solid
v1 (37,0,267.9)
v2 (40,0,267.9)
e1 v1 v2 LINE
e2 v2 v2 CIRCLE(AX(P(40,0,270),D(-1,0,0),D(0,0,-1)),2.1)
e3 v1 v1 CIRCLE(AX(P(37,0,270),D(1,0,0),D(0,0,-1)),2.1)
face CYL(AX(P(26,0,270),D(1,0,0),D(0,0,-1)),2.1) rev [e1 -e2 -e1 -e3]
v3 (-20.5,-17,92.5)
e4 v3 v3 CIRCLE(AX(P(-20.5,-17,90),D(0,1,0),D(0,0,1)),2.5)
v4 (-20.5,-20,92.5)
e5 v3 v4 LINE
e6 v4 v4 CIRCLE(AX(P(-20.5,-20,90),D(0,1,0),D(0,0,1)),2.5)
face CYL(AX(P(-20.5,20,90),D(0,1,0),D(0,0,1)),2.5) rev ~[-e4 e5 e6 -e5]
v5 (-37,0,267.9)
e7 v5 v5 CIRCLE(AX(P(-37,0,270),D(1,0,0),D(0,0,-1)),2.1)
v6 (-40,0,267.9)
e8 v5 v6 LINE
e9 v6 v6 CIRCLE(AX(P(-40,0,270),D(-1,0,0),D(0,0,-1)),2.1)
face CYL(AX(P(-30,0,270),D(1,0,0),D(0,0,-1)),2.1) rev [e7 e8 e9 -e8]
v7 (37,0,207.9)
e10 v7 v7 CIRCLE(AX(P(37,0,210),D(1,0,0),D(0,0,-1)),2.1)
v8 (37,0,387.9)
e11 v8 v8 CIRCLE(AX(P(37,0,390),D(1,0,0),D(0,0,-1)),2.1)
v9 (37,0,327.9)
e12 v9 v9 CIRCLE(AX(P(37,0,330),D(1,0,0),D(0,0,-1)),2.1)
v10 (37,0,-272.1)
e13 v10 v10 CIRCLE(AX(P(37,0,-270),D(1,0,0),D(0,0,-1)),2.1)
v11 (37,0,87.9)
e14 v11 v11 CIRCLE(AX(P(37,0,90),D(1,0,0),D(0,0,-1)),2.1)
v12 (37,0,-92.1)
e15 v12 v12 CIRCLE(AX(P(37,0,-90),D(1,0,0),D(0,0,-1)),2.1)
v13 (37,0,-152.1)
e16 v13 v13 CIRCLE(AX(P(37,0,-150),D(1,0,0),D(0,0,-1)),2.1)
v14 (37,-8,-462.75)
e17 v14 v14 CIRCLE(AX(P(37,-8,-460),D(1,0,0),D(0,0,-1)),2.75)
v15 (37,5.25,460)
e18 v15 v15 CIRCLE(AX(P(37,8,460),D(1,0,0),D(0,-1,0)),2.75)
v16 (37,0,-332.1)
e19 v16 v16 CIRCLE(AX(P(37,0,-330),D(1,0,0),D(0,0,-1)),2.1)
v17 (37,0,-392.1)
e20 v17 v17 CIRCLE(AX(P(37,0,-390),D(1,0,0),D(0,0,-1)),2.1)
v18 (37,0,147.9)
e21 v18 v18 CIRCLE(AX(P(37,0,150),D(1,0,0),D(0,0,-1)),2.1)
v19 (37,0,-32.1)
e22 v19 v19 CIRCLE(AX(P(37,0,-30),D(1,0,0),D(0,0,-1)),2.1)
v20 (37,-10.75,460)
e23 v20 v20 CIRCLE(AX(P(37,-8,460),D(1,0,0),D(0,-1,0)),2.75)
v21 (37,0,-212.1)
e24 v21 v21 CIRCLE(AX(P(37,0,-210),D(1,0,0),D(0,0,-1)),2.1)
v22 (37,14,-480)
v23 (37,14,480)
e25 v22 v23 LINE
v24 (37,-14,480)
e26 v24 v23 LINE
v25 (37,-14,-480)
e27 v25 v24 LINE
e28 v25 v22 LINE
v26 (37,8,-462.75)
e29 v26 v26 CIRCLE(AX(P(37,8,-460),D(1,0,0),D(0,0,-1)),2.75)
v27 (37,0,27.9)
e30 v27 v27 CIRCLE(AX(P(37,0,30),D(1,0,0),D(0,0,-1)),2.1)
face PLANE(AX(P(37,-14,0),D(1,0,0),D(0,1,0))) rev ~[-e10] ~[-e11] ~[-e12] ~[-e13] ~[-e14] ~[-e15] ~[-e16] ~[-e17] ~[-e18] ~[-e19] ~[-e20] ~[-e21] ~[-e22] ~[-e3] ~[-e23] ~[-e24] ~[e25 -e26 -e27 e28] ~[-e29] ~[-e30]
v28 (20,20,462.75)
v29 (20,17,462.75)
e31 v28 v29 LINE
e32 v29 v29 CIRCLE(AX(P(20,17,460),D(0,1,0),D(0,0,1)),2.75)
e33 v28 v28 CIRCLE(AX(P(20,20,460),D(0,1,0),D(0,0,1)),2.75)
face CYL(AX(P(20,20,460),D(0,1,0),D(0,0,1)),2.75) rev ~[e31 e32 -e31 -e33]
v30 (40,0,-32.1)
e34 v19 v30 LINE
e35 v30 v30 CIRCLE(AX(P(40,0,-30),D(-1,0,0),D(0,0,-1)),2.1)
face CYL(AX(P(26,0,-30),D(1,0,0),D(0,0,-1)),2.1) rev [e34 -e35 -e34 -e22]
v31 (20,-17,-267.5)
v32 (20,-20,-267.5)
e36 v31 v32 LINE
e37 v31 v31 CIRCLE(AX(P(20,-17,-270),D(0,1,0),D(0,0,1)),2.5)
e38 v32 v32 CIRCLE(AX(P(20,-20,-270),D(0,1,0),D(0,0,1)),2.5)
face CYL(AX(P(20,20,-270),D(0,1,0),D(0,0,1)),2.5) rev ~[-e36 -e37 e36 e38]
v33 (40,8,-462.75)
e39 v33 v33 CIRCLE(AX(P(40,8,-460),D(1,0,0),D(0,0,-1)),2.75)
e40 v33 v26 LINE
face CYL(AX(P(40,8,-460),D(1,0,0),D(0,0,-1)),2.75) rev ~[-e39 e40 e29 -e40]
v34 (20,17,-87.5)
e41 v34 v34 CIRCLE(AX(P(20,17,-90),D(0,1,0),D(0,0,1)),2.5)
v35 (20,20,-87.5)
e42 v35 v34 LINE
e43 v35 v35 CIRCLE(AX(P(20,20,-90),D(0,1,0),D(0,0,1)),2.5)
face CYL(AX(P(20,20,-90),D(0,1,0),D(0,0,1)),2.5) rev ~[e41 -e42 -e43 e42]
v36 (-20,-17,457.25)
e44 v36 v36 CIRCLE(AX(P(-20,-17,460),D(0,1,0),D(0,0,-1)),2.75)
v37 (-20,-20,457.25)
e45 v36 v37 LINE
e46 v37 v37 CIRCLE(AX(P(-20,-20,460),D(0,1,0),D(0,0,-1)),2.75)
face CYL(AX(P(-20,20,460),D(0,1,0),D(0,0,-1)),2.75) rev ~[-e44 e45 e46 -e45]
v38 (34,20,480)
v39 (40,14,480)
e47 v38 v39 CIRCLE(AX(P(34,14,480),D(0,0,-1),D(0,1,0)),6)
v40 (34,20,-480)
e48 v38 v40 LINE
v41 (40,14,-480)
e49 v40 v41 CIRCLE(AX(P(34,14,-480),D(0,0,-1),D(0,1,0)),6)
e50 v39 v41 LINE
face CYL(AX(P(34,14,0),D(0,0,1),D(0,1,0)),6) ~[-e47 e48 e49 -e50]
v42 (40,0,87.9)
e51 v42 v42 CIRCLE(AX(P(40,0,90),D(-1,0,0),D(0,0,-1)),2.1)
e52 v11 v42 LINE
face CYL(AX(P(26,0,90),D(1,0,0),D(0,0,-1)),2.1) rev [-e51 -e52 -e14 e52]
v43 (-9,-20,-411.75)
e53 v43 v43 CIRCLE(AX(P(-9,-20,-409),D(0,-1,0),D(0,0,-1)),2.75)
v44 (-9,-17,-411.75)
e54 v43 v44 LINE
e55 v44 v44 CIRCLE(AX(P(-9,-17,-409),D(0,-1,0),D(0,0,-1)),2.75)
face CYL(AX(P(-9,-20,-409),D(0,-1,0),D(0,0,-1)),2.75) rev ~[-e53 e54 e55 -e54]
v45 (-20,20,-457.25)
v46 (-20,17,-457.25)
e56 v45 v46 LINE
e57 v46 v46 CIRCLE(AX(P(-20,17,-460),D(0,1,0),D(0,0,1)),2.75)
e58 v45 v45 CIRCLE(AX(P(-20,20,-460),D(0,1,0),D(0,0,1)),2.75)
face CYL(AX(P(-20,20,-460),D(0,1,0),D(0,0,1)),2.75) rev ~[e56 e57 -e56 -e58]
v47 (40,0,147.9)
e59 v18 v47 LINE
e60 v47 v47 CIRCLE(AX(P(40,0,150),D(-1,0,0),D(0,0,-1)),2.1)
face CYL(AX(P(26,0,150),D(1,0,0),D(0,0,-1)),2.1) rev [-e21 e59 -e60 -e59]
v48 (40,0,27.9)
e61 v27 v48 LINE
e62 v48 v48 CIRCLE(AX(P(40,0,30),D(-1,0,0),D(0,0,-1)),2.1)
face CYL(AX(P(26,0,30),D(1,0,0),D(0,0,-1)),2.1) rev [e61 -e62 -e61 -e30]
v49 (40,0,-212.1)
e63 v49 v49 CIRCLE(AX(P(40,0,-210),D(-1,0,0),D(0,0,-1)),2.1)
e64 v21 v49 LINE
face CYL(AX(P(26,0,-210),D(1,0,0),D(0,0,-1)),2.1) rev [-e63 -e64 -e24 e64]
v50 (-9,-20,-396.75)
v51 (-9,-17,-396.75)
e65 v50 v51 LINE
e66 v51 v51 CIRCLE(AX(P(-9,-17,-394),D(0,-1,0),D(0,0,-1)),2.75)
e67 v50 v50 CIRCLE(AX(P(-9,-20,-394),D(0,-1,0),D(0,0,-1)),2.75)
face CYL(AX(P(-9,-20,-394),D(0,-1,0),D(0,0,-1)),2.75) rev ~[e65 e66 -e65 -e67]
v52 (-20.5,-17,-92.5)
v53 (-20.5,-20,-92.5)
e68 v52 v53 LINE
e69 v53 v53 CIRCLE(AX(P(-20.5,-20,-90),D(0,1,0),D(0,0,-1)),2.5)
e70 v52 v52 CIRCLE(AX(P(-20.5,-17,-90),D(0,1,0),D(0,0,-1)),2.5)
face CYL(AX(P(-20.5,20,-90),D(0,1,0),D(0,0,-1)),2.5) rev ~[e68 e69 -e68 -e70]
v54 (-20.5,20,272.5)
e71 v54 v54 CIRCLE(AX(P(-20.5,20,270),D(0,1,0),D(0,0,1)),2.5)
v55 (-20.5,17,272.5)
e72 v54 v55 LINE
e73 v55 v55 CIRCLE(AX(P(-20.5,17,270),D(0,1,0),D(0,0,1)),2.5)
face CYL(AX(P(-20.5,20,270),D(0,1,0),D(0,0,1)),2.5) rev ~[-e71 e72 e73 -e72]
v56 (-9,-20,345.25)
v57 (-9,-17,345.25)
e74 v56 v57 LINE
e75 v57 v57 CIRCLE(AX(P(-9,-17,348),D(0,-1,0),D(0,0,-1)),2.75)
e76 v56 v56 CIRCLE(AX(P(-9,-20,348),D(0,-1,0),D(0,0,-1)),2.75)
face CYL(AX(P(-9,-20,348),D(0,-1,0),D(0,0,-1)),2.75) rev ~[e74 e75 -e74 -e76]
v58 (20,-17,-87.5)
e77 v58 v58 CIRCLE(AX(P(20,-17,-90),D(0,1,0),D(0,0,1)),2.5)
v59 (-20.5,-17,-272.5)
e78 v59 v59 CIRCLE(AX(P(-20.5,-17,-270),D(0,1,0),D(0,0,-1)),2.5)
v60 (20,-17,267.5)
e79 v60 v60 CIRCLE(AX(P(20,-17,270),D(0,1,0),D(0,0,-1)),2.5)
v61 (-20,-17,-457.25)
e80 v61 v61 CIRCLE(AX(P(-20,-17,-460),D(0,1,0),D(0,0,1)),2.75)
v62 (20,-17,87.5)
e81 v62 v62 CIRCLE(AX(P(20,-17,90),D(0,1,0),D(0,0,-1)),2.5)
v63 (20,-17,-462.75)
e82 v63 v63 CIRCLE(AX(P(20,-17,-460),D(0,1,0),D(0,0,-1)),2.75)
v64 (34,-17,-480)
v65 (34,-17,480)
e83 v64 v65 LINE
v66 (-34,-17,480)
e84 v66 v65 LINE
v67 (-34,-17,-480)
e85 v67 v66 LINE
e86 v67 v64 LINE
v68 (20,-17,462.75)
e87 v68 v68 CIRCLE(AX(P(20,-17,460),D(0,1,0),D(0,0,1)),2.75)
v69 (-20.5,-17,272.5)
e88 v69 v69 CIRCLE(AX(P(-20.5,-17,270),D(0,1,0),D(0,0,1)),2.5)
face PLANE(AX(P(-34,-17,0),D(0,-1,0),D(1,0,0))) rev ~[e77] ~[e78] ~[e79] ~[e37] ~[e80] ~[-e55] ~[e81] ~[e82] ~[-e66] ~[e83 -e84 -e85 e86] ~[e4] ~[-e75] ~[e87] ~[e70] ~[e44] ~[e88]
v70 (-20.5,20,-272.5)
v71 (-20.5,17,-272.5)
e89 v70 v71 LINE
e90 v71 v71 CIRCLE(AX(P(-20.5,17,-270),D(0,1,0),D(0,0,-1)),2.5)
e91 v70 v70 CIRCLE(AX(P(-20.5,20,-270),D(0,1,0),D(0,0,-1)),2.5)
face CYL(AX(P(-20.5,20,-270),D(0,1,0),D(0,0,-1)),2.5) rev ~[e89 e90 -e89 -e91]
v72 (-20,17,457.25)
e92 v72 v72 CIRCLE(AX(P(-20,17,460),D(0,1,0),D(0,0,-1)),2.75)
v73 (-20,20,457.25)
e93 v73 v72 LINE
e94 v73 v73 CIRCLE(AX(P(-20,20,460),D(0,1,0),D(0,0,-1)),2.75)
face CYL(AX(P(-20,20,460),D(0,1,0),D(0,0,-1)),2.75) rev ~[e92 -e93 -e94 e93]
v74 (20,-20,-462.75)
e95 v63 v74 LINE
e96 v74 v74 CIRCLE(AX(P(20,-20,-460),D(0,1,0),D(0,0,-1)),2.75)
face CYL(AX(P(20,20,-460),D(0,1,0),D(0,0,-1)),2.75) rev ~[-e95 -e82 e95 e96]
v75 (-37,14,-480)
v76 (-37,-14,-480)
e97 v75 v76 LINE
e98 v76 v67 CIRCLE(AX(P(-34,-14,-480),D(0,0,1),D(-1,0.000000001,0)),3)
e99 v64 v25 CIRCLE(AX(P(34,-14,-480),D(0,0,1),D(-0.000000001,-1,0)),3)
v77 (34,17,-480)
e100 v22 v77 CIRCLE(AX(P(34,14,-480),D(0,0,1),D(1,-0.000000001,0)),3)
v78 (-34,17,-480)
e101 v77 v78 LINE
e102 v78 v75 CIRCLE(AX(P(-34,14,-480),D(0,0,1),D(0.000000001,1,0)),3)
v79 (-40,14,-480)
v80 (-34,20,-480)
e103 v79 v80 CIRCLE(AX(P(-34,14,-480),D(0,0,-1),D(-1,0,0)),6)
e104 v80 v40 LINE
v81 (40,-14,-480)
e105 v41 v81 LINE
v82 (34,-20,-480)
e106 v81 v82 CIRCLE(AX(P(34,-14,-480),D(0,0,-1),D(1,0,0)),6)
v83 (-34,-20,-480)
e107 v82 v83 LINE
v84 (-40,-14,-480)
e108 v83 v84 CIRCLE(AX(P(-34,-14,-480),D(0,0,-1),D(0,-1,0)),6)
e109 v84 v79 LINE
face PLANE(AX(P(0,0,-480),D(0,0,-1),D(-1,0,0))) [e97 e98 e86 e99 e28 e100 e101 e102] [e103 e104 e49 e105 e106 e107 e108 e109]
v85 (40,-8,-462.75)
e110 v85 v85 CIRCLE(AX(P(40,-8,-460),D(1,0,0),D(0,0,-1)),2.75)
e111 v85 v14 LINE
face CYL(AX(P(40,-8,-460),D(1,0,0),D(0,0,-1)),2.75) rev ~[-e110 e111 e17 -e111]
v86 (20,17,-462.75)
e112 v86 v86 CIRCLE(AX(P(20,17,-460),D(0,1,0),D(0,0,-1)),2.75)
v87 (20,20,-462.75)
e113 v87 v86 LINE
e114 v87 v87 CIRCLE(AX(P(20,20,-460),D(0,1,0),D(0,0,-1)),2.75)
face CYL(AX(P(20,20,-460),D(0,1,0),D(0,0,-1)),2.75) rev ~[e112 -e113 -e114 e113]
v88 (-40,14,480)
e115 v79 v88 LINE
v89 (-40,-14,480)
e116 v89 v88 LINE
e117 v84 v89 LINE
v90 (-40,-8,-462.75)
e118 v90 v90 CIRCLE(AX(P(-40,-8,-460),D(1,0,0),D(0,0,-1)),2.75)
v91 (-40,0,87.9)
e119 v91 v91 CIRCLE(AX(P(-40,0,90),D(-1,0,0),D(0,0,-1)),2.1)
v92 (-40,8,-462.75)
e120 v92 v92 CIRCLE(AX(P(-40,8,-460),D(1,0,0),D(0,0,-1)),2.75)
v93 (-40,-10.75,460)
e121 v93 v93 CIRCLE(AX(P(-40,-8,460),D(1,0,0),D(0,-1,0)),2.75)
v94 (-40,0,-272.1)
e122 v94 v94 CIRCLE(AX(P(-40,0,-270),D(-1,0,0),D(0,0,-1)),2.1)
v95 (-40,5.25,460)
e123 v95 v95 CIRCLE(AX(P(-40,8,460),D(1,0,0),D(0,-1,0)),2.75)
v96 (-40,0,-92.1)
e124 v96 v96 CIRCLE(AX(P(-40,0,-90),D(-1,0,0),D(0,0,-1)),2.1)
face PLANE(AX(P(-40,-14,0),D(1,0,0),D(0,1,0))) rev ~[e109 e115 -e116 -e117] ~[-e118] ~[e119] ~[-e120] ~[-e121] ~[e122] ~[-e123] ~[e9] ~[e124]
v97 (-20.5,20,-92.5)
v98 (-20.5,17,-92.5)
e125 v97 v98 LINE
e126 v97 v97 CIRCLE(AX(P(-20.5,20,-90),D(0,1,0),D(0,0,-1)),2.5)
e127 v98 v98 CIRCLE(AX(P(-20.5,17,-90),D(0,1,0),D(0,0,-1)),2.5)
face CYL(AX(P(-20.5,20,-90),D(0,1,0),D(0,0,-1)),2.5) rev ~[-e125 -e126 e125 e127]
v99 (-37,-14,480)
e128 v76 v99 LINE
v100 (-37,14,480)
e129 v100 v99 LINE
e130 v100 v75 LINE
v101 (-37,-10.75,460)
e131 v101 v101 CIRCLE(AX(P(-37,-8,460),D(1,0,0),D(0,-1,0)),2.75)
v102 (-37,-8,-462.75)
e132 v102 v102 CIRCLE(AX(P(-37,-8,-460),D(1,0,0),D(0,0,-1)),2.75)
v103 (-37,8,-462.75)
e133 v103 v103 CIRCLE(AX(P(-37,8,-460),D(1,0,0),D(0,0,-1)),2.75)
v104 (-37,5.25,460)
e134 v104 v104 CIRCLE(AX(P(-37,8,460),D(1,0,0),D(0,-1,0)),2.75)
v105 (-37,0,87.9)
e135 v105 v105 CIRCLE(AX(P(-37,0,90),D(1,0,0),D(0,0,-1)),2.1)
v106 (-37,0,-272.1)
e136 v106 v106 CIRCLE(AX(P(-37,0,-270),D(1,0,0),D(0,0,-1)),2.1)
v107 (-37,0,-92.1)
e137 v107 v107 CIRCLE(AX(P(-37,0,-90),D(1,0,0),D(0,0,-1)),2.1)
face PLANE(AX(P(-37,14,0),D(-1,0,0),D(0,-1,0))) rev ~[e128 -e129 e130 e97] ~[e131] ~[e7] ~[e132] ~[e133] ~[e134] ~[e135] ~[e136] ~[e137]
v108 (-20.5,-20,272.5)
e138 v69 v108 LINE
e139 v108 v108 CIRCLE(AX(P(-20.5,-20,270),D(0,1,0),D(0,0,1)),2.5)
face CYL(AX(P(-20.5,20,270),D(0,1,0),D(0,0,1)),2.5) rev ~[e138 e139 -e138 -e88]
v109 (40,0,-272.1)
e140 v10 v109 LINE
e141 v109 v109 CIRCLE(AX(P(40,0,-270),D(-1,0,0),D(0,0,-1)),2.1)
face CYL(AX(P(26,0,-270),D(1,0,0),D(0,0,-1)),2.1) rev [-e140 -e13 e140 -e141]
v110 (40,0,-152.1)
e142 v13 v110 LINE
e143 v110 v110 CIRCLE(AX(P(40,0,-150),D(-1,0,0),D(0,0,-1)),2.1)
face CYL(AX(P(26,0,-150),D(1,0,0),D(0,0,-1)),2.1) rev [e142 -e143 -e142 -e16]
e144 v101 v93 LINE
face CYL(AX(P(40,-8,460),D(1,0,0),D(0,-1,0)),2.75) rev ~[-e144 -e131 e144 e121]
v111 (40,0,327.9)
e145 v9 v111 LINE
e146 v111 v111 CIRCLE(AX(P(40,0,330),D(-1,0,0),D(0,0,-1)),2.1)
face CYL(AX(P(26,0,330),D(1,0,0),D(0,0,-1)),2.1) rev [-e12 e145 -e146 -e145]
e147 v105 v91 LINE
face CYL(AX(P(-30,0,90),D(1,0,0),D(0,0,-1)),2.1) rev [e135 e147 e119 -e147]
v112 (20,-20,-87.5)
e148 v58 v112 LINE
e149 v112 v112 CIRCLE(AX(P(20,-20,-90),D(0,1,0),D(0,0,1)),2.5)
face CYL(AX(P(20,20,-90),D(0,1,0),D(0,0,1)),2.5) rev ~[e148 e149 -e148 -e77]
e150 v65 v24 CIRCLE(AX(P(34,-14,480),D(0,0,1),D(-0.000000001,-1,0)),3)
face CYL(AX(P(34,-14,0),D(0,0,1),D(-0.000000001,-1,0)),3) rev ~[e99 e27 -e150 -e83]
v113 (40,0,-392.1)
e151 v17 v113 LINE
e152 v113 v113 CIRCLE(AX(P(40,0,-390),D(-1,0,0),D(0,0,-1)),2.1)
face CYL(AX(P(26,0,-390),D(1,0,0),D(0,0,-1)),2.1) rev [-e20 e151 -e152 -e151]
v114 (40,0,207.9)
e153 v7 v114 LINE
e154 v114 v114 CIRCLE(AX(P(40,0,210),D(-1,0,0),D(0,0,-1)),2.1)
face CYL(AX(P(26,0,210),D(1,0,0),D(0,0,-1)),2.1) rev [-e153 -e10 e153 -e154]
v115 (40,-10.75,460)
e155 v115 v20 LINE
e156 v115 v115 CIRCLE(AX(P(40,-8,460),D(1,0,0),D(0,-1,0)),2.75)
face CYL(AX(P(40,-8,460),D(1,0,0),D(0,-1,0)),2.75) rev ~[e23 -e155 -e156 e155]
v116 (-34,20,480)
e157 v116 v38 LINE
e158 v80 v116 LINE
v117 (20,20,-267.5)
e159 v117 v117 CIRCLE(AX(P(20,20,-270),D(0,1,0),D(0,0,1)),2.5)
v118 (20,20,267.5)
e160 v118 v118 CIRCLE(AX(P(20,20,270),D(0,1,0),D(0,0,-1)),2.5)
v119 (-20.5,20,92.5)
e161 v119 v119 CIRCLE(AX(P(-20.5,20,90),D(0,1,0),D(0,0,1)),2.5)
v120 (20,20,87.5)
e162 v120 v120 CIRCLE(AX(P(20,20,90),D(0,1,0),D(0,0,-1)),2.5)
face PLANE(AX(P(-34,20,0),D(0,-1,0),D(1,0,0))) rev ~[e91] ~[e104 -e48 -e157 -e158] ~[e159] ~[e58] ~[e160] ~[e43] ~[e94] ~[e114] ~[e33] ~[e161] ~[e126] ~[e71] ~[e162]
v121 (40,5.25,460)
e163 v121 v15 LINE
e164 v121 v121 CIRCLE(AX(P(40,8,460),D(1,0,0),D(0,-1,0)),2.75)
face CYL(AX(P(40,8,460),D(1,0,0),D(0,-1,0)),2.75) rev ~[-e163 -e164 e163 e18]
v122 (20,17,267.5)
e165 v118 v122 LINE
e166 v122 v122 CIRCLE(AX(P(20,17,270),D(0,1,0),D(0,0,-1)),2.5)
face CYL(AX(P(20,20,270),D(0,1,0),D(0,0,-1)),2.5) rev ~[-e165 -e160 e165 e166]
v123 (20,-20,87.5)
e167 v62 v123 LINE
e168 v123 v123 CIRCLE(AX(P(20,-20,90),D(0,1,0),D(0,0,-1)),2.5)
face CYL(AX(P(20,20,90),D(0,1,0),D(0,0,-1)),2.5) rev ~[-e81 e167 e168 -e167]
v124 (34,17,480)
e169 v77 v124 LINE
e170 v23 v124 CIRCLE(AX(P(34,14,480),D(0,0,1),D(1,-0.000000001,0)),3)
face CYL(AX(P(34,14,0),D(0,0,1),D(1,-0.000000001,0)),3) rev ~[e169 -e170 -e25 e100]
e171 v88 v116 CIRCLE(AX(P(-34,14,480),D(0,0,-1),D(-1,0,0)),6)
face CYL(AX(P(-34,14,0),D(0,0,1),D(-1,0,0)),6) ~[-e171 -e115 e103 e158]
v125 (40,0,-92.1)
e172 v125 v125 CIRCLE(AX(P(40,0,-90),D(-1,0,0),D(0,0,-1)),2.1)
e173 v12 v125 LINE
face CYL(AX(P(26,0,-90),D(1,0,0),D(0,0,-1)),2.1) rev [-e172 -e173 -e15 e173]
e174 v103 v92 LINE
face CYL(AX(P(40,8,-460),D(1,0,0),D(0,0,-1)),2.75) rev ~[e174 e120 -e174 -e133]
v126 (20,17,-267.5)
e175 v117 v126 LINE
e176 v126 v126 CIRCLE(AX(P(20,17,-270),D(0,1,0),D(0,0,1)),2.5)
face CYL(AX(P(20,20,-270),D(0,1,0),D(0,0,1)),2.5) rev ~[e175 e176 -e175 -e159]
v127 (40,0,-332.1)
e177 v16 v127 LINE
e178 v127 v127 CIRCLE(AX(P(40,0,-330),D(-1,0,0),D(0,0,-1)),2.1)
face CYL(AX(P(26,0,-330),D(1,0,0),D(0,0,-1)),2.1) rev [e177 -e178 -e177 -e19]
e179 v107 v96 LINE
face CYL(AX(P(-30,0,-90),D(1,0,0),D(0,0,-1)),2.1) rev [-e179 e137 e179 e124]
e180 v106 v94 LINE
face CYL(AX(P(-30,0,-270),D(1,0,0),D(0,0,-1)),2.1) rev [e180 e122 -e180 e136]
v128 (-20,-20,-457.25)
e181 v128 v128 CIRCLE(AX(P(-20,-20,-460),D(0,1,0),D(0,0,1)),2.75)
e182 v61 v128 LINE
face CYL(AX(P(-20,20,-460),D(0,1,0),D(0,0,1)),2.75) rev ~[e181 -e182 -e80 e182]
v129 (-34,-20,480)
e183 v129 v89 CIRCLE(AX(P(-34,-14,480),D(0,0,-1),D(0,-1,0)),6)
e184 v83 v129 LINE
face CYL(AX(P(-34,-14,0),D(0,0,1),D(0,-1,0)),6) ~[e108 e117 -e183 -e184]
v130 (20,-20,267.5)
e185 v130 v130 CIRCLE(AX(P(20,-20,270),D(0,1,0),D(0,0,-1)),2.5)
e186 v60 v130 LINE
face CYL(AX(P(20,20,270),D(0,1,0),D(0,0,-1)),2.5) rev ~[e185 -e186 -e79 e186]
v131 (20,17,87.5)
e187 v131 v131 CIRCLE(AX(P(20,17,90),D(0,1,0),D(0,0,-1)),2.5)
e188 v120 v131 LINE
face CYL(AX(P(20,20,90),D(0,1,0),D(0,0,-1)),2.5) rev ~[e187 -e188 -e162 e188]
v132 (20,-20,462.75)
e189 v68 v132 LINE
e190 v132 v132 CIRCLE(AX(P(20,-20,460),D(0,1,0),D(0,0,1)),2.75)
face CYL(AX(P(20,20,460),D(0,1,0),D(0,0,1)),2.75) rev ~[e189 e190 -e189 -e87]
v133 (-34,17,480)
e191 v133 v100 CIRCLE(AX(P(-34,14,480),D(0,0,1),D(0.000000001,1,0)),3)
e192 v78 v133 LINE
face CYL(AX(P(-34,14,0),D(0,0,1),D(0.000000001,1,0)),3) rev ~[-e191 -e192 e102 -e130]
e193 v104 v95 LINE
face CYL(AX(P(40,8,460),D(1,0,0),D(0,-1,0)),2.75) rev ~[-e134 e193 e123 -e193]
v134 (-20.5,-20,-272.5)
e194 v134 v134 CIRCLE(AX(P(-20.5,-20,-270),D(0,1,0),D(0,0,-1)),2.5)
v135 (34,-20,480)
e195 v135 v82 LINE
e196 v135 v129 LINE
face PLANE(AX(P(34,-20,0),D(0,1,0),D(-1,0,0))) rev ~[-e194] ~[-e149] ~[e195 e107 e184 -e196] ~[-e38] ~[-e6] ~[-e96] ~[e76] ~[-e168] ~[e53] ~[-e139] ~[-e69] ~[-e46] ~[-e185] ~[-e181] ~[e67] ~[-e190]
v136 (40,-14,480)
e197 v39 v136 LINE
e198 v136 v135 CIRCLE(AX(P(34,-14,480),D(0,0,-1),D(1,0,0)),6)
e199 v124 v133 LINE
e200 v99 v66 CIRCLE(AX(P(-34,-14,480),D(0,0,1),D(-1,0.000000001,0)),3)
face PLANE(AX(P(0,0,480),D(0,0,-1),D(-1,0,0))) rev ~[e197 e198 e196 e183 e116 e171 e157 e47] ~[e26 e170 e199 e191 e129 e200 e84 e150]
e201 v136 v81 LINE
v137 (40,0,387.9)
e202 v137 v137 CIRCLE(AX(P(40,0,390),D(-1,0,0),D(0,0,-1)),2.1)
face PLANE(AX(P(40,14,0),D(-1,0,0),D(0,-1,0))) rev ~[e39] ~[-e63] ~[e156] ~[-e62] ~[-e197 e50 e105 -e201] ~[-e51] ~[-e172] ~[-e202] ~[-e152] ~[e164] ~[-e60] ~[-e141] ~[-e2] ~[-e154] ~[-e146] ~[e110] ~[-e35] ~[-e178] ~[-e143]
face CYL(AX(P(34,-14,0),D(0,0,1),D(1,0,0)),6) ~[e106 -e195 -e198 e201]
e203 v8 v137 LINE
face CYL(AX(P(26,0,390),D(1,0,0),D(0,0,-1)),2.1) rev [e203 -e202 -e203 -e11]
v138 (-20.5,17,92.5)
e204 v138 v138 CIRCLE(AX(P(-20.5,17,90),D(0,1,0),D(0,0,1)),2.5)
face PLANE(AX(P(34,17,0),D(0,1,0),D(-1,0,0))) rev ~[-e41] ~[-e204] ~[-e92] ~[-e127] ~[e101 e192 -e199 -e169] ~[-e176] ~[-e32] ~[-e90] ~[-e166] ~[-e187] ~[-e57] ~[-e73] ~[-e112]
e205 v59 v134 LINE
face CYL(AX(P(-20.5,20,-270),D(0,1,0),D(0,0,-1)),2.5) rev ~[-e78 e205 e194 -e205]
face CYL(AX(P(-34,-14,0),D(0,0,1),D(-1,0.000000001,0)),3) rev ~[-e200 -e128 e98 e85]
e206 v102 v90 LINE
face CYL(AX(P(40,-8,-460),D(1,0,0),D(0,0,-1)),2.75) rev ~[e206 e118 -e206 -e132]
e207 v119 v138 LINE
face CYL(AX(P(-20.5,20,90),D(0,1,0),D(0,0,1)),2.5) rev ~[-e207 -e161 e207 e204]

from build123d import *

# Parameters (mm, degrees)
AUFSATZ_LINEAR_AUSTRAGEN1_DEPTH = 480
LINEARES_MUSTER1_COUNT          = 14
LINEARES_MUSTER1_PITCH          = 60
SKIZZE5_R                       = 2.75
SCHNITT_LINEAR_AUSTRAGEN1_DEPTH = 100
SKIZZE6_R                       = 2.75
SCHNITT_LINEAR_AUSTRAGEN2_DEPTH = 100
SCHNITT_LINEAR_START            = -10
SKIZZE7_R                       = 2.1
SCHNITT_LINEAR_AUSTRAGEN3_DEPTH = 10
SKIZZE8_R                       = 2.5
SCHNITT_LINEAR_AUSTRAGEN4_DEPTH = 100
SKIZZE10_R                      = 2.75
SCHNITT_LINEAR_AUSTRAGEN6_DEPTH = 10


with BuildPart() as part:
    # Skizze1 → Aufsatz-Linear austragen1 (new, symmetric)
    with BuildSketch(Plane.XY):
        with BuildLine():
            Line((-34, 20), (34, 20))
            ThreePointArc((34, 20), (38.242640687, 18.242640687), (40, 14))
            Line((40, 14), (40, -14))
            ThreePointArc((40, -14), (38.242640687, -18.242640687), (34, -20))
            Line((34, -20), (-34, -20))
            ThreePointArc((-34, -20), (-38.242640687, -18.242640687), (-40, -14))
            Line((-40, -14), (-40, 14))
            ThreePointArc((-40, 14), (-38.242640687, 18.242640687), (-34, 20))
        make_face()
        with BuildLine():
            Line((-37, 14), (-37, -14))
            ThreePointArc((-37, -14), (-36.121320344, -16.121320344), (-34, -17))
            Line((-34, -17), (34, -17))
            ThreePointArc((34, -17), (36.121320344, -16.121320344), (37, -14))
            Line((37, -14), (37, 14))
            ThreePointArc((37, 14), (36.121320344, 16.121320344), (34, 17))
            Line((34, 17), (-34, 17))
            ThreePointArc((-34, 17), (-36.121320344, 16.121320344), (-37, 14))
        make_face(mode=Mode.SUBTRACT)
    extrude(amount=AUFSATZ_LINEAR_AUSTRAGEN1_DEPTH, both=True)

    # Skizze4 → M5 Gewindebohrung1 (revolve, cut)
    with BuildSketch(Plane(origin=(40, 0, -390), x_dir=(0, 0, -1), z_dir=(0, 1, 0))):
        Polygon((0, 0), (0, 15.2618073), (2.1, 14), (2.1, 0), align=None)
    m5_gewindebohrung1 = revolve(axis=Axis((46.35, 0, -390), (-1, 0, 0)), mode=Mode.SUBTRACT)

    # Lineares Muster1: M5 Gewindebohrung1 ×14
    with Locations(*[(0, 0, i * LINEARES_MUSTER1_PITCH) for i in range(1, LINEARES_MUSTER1_COUNT)]):
        add(m5_gewindebohrung1, mode=Mode.SUBTRACT)

    # Skizze5 → Schnitt-Linear austragen1 (cut)
    with BuildSketch(Plane(origin=(40, 0, 0), x_dir=(0, 0, -1), z_dir=(1, 0, 0))):
        with Locations((460, 8)):
            Circle(SKIZZE5_R)
        with Locations((460, -8)):
            Circle(SKIZZE5_R)
        with Locations(Location((-460, -8, 0), (0, 0, 270))):
            Circle(SKIZZE5_R)
        with Locations(Location((-460, 8, 0), (0, 0, 270))):
            Circle(SKIZZE5_R)
    extrude(amount=-SCHNITT_LINEAR_AUSTRAGEN1_DEPTH, mode=Mode.SUBTRACT)

    # Skizze6 → Schnitt-Linear austragen2 (cut)
    with BuildSketch(Plane(origin=(0, 20, 0), x_dir=(1, 0, 0), z_dir=(0, 1, 0))):
        with Locations(Location((20, -460, 0), (0, 0, 270))):
            Circle(SKIZZE6_R)
        with Locations(Location((-20, -460, 0), (0, 0, 90))):
            Circle(SKIZZE6_R)
        with Locations(Location((20, 460, 0), (0, 0, 90))):
            Circle(SKIZZE6_R)
        with Locations(Location((-20, 460, 0), (0, 0, 270))):
            Circle(SKIZZE6_R)
    extrude(amount=-SCHNITT_LINEAR_AUSTRAGEN2_DEPTH, mode=Mode.SUBTRACT)

    # Skizze7 → Schnitt-Linear austragen3 (cut)
    with BuildSketch(Plane.ZY.offset(40).offset(SCHNITT_LINEAR_START)):
        with Locations(Location((270, 0, 0), (0, 0, 180))):
            Circle(SKIZZE7_R)
        with Locations(Location((90, 0, 0), (0, 0, 180))):
            Circle(SKIZZE7_R)
        with Locations(Location((-90, 0, 0), (0, 0, 180))):
            Circle(SKIZZE7_R)
        with Locations(Location((-270, 0, 0), (0, 0, 180))):
            Circle(SKIZZE7_R)
    extrude(amount=SCHNITT_LINEAR_AUSTRAGEN3_DEPTH, mode=Mode.SUBTRACT)

    # Skizze8 → Schnitt-Linear austragen4 (cut)
    with BuildSketch(Plane(origin=(0, 20, 0), x_dir=(1, 0, 0), z_dir=(0, 1, 0))):
        with Locations(Location((20, 270, 0), (0, 0, 270))):
            Circle(SKIZZE8_R)
        with Locations(Location((20, 90, 0), (0, 0, 270))):
            Circle(SKIZZE8_R)
        with Locations(Location((-20.5, 90, 0), (0, 0, 90))):
            Circle(SKIZZE8_R)
        with Locations(Location((-20.5, 270, 0), (0, 0, 90))):
            Circle(SKIZZE8_R)
        with Locations(Location((20, -90, 0), (0, 0, 90))):
            Circle(SKIZZE8_R)
        with Locations(Location((-20.5, -90, 0), (0, 0, 270))):
            Circle(SKIZZE8_R)
        with Locations(Location((20, -270, 0), (0, 0, 90))):
            Circle(SKIZZE8_R)
        with Locations(Location((-20.5, -270, 0), (0, 0, 270))):
            Circle(SKIZZE8_R)
    extrude(amount=-SCHNITT_LINEAR_AUSTRAGEN4_DEPTH, mode=Mode.SUBTRACT)

    # Skizze10 → Schnitt-Linear austragen6 (cut)
    with BuildSketch(Plane.XZ.offset(20)):
        with Locations(Location((-9, -409, 0), (0, 0, 270))):
            Circle(SKIZZE10_R)
        with Locations(Location((-9, 348, 0), (0, 0, 270))):
            Circle(SKIZZE10_R)
        with Locations(Location((-9, -394, 0), (0, 0, 270))):
            Circle(SKIZZE10_R)
    extrude(amount=-SCHNITT_LINEAR_AUSTRAGEN6_DEPTH, mode=Mode.SUBTRACT)


solid = part.part
